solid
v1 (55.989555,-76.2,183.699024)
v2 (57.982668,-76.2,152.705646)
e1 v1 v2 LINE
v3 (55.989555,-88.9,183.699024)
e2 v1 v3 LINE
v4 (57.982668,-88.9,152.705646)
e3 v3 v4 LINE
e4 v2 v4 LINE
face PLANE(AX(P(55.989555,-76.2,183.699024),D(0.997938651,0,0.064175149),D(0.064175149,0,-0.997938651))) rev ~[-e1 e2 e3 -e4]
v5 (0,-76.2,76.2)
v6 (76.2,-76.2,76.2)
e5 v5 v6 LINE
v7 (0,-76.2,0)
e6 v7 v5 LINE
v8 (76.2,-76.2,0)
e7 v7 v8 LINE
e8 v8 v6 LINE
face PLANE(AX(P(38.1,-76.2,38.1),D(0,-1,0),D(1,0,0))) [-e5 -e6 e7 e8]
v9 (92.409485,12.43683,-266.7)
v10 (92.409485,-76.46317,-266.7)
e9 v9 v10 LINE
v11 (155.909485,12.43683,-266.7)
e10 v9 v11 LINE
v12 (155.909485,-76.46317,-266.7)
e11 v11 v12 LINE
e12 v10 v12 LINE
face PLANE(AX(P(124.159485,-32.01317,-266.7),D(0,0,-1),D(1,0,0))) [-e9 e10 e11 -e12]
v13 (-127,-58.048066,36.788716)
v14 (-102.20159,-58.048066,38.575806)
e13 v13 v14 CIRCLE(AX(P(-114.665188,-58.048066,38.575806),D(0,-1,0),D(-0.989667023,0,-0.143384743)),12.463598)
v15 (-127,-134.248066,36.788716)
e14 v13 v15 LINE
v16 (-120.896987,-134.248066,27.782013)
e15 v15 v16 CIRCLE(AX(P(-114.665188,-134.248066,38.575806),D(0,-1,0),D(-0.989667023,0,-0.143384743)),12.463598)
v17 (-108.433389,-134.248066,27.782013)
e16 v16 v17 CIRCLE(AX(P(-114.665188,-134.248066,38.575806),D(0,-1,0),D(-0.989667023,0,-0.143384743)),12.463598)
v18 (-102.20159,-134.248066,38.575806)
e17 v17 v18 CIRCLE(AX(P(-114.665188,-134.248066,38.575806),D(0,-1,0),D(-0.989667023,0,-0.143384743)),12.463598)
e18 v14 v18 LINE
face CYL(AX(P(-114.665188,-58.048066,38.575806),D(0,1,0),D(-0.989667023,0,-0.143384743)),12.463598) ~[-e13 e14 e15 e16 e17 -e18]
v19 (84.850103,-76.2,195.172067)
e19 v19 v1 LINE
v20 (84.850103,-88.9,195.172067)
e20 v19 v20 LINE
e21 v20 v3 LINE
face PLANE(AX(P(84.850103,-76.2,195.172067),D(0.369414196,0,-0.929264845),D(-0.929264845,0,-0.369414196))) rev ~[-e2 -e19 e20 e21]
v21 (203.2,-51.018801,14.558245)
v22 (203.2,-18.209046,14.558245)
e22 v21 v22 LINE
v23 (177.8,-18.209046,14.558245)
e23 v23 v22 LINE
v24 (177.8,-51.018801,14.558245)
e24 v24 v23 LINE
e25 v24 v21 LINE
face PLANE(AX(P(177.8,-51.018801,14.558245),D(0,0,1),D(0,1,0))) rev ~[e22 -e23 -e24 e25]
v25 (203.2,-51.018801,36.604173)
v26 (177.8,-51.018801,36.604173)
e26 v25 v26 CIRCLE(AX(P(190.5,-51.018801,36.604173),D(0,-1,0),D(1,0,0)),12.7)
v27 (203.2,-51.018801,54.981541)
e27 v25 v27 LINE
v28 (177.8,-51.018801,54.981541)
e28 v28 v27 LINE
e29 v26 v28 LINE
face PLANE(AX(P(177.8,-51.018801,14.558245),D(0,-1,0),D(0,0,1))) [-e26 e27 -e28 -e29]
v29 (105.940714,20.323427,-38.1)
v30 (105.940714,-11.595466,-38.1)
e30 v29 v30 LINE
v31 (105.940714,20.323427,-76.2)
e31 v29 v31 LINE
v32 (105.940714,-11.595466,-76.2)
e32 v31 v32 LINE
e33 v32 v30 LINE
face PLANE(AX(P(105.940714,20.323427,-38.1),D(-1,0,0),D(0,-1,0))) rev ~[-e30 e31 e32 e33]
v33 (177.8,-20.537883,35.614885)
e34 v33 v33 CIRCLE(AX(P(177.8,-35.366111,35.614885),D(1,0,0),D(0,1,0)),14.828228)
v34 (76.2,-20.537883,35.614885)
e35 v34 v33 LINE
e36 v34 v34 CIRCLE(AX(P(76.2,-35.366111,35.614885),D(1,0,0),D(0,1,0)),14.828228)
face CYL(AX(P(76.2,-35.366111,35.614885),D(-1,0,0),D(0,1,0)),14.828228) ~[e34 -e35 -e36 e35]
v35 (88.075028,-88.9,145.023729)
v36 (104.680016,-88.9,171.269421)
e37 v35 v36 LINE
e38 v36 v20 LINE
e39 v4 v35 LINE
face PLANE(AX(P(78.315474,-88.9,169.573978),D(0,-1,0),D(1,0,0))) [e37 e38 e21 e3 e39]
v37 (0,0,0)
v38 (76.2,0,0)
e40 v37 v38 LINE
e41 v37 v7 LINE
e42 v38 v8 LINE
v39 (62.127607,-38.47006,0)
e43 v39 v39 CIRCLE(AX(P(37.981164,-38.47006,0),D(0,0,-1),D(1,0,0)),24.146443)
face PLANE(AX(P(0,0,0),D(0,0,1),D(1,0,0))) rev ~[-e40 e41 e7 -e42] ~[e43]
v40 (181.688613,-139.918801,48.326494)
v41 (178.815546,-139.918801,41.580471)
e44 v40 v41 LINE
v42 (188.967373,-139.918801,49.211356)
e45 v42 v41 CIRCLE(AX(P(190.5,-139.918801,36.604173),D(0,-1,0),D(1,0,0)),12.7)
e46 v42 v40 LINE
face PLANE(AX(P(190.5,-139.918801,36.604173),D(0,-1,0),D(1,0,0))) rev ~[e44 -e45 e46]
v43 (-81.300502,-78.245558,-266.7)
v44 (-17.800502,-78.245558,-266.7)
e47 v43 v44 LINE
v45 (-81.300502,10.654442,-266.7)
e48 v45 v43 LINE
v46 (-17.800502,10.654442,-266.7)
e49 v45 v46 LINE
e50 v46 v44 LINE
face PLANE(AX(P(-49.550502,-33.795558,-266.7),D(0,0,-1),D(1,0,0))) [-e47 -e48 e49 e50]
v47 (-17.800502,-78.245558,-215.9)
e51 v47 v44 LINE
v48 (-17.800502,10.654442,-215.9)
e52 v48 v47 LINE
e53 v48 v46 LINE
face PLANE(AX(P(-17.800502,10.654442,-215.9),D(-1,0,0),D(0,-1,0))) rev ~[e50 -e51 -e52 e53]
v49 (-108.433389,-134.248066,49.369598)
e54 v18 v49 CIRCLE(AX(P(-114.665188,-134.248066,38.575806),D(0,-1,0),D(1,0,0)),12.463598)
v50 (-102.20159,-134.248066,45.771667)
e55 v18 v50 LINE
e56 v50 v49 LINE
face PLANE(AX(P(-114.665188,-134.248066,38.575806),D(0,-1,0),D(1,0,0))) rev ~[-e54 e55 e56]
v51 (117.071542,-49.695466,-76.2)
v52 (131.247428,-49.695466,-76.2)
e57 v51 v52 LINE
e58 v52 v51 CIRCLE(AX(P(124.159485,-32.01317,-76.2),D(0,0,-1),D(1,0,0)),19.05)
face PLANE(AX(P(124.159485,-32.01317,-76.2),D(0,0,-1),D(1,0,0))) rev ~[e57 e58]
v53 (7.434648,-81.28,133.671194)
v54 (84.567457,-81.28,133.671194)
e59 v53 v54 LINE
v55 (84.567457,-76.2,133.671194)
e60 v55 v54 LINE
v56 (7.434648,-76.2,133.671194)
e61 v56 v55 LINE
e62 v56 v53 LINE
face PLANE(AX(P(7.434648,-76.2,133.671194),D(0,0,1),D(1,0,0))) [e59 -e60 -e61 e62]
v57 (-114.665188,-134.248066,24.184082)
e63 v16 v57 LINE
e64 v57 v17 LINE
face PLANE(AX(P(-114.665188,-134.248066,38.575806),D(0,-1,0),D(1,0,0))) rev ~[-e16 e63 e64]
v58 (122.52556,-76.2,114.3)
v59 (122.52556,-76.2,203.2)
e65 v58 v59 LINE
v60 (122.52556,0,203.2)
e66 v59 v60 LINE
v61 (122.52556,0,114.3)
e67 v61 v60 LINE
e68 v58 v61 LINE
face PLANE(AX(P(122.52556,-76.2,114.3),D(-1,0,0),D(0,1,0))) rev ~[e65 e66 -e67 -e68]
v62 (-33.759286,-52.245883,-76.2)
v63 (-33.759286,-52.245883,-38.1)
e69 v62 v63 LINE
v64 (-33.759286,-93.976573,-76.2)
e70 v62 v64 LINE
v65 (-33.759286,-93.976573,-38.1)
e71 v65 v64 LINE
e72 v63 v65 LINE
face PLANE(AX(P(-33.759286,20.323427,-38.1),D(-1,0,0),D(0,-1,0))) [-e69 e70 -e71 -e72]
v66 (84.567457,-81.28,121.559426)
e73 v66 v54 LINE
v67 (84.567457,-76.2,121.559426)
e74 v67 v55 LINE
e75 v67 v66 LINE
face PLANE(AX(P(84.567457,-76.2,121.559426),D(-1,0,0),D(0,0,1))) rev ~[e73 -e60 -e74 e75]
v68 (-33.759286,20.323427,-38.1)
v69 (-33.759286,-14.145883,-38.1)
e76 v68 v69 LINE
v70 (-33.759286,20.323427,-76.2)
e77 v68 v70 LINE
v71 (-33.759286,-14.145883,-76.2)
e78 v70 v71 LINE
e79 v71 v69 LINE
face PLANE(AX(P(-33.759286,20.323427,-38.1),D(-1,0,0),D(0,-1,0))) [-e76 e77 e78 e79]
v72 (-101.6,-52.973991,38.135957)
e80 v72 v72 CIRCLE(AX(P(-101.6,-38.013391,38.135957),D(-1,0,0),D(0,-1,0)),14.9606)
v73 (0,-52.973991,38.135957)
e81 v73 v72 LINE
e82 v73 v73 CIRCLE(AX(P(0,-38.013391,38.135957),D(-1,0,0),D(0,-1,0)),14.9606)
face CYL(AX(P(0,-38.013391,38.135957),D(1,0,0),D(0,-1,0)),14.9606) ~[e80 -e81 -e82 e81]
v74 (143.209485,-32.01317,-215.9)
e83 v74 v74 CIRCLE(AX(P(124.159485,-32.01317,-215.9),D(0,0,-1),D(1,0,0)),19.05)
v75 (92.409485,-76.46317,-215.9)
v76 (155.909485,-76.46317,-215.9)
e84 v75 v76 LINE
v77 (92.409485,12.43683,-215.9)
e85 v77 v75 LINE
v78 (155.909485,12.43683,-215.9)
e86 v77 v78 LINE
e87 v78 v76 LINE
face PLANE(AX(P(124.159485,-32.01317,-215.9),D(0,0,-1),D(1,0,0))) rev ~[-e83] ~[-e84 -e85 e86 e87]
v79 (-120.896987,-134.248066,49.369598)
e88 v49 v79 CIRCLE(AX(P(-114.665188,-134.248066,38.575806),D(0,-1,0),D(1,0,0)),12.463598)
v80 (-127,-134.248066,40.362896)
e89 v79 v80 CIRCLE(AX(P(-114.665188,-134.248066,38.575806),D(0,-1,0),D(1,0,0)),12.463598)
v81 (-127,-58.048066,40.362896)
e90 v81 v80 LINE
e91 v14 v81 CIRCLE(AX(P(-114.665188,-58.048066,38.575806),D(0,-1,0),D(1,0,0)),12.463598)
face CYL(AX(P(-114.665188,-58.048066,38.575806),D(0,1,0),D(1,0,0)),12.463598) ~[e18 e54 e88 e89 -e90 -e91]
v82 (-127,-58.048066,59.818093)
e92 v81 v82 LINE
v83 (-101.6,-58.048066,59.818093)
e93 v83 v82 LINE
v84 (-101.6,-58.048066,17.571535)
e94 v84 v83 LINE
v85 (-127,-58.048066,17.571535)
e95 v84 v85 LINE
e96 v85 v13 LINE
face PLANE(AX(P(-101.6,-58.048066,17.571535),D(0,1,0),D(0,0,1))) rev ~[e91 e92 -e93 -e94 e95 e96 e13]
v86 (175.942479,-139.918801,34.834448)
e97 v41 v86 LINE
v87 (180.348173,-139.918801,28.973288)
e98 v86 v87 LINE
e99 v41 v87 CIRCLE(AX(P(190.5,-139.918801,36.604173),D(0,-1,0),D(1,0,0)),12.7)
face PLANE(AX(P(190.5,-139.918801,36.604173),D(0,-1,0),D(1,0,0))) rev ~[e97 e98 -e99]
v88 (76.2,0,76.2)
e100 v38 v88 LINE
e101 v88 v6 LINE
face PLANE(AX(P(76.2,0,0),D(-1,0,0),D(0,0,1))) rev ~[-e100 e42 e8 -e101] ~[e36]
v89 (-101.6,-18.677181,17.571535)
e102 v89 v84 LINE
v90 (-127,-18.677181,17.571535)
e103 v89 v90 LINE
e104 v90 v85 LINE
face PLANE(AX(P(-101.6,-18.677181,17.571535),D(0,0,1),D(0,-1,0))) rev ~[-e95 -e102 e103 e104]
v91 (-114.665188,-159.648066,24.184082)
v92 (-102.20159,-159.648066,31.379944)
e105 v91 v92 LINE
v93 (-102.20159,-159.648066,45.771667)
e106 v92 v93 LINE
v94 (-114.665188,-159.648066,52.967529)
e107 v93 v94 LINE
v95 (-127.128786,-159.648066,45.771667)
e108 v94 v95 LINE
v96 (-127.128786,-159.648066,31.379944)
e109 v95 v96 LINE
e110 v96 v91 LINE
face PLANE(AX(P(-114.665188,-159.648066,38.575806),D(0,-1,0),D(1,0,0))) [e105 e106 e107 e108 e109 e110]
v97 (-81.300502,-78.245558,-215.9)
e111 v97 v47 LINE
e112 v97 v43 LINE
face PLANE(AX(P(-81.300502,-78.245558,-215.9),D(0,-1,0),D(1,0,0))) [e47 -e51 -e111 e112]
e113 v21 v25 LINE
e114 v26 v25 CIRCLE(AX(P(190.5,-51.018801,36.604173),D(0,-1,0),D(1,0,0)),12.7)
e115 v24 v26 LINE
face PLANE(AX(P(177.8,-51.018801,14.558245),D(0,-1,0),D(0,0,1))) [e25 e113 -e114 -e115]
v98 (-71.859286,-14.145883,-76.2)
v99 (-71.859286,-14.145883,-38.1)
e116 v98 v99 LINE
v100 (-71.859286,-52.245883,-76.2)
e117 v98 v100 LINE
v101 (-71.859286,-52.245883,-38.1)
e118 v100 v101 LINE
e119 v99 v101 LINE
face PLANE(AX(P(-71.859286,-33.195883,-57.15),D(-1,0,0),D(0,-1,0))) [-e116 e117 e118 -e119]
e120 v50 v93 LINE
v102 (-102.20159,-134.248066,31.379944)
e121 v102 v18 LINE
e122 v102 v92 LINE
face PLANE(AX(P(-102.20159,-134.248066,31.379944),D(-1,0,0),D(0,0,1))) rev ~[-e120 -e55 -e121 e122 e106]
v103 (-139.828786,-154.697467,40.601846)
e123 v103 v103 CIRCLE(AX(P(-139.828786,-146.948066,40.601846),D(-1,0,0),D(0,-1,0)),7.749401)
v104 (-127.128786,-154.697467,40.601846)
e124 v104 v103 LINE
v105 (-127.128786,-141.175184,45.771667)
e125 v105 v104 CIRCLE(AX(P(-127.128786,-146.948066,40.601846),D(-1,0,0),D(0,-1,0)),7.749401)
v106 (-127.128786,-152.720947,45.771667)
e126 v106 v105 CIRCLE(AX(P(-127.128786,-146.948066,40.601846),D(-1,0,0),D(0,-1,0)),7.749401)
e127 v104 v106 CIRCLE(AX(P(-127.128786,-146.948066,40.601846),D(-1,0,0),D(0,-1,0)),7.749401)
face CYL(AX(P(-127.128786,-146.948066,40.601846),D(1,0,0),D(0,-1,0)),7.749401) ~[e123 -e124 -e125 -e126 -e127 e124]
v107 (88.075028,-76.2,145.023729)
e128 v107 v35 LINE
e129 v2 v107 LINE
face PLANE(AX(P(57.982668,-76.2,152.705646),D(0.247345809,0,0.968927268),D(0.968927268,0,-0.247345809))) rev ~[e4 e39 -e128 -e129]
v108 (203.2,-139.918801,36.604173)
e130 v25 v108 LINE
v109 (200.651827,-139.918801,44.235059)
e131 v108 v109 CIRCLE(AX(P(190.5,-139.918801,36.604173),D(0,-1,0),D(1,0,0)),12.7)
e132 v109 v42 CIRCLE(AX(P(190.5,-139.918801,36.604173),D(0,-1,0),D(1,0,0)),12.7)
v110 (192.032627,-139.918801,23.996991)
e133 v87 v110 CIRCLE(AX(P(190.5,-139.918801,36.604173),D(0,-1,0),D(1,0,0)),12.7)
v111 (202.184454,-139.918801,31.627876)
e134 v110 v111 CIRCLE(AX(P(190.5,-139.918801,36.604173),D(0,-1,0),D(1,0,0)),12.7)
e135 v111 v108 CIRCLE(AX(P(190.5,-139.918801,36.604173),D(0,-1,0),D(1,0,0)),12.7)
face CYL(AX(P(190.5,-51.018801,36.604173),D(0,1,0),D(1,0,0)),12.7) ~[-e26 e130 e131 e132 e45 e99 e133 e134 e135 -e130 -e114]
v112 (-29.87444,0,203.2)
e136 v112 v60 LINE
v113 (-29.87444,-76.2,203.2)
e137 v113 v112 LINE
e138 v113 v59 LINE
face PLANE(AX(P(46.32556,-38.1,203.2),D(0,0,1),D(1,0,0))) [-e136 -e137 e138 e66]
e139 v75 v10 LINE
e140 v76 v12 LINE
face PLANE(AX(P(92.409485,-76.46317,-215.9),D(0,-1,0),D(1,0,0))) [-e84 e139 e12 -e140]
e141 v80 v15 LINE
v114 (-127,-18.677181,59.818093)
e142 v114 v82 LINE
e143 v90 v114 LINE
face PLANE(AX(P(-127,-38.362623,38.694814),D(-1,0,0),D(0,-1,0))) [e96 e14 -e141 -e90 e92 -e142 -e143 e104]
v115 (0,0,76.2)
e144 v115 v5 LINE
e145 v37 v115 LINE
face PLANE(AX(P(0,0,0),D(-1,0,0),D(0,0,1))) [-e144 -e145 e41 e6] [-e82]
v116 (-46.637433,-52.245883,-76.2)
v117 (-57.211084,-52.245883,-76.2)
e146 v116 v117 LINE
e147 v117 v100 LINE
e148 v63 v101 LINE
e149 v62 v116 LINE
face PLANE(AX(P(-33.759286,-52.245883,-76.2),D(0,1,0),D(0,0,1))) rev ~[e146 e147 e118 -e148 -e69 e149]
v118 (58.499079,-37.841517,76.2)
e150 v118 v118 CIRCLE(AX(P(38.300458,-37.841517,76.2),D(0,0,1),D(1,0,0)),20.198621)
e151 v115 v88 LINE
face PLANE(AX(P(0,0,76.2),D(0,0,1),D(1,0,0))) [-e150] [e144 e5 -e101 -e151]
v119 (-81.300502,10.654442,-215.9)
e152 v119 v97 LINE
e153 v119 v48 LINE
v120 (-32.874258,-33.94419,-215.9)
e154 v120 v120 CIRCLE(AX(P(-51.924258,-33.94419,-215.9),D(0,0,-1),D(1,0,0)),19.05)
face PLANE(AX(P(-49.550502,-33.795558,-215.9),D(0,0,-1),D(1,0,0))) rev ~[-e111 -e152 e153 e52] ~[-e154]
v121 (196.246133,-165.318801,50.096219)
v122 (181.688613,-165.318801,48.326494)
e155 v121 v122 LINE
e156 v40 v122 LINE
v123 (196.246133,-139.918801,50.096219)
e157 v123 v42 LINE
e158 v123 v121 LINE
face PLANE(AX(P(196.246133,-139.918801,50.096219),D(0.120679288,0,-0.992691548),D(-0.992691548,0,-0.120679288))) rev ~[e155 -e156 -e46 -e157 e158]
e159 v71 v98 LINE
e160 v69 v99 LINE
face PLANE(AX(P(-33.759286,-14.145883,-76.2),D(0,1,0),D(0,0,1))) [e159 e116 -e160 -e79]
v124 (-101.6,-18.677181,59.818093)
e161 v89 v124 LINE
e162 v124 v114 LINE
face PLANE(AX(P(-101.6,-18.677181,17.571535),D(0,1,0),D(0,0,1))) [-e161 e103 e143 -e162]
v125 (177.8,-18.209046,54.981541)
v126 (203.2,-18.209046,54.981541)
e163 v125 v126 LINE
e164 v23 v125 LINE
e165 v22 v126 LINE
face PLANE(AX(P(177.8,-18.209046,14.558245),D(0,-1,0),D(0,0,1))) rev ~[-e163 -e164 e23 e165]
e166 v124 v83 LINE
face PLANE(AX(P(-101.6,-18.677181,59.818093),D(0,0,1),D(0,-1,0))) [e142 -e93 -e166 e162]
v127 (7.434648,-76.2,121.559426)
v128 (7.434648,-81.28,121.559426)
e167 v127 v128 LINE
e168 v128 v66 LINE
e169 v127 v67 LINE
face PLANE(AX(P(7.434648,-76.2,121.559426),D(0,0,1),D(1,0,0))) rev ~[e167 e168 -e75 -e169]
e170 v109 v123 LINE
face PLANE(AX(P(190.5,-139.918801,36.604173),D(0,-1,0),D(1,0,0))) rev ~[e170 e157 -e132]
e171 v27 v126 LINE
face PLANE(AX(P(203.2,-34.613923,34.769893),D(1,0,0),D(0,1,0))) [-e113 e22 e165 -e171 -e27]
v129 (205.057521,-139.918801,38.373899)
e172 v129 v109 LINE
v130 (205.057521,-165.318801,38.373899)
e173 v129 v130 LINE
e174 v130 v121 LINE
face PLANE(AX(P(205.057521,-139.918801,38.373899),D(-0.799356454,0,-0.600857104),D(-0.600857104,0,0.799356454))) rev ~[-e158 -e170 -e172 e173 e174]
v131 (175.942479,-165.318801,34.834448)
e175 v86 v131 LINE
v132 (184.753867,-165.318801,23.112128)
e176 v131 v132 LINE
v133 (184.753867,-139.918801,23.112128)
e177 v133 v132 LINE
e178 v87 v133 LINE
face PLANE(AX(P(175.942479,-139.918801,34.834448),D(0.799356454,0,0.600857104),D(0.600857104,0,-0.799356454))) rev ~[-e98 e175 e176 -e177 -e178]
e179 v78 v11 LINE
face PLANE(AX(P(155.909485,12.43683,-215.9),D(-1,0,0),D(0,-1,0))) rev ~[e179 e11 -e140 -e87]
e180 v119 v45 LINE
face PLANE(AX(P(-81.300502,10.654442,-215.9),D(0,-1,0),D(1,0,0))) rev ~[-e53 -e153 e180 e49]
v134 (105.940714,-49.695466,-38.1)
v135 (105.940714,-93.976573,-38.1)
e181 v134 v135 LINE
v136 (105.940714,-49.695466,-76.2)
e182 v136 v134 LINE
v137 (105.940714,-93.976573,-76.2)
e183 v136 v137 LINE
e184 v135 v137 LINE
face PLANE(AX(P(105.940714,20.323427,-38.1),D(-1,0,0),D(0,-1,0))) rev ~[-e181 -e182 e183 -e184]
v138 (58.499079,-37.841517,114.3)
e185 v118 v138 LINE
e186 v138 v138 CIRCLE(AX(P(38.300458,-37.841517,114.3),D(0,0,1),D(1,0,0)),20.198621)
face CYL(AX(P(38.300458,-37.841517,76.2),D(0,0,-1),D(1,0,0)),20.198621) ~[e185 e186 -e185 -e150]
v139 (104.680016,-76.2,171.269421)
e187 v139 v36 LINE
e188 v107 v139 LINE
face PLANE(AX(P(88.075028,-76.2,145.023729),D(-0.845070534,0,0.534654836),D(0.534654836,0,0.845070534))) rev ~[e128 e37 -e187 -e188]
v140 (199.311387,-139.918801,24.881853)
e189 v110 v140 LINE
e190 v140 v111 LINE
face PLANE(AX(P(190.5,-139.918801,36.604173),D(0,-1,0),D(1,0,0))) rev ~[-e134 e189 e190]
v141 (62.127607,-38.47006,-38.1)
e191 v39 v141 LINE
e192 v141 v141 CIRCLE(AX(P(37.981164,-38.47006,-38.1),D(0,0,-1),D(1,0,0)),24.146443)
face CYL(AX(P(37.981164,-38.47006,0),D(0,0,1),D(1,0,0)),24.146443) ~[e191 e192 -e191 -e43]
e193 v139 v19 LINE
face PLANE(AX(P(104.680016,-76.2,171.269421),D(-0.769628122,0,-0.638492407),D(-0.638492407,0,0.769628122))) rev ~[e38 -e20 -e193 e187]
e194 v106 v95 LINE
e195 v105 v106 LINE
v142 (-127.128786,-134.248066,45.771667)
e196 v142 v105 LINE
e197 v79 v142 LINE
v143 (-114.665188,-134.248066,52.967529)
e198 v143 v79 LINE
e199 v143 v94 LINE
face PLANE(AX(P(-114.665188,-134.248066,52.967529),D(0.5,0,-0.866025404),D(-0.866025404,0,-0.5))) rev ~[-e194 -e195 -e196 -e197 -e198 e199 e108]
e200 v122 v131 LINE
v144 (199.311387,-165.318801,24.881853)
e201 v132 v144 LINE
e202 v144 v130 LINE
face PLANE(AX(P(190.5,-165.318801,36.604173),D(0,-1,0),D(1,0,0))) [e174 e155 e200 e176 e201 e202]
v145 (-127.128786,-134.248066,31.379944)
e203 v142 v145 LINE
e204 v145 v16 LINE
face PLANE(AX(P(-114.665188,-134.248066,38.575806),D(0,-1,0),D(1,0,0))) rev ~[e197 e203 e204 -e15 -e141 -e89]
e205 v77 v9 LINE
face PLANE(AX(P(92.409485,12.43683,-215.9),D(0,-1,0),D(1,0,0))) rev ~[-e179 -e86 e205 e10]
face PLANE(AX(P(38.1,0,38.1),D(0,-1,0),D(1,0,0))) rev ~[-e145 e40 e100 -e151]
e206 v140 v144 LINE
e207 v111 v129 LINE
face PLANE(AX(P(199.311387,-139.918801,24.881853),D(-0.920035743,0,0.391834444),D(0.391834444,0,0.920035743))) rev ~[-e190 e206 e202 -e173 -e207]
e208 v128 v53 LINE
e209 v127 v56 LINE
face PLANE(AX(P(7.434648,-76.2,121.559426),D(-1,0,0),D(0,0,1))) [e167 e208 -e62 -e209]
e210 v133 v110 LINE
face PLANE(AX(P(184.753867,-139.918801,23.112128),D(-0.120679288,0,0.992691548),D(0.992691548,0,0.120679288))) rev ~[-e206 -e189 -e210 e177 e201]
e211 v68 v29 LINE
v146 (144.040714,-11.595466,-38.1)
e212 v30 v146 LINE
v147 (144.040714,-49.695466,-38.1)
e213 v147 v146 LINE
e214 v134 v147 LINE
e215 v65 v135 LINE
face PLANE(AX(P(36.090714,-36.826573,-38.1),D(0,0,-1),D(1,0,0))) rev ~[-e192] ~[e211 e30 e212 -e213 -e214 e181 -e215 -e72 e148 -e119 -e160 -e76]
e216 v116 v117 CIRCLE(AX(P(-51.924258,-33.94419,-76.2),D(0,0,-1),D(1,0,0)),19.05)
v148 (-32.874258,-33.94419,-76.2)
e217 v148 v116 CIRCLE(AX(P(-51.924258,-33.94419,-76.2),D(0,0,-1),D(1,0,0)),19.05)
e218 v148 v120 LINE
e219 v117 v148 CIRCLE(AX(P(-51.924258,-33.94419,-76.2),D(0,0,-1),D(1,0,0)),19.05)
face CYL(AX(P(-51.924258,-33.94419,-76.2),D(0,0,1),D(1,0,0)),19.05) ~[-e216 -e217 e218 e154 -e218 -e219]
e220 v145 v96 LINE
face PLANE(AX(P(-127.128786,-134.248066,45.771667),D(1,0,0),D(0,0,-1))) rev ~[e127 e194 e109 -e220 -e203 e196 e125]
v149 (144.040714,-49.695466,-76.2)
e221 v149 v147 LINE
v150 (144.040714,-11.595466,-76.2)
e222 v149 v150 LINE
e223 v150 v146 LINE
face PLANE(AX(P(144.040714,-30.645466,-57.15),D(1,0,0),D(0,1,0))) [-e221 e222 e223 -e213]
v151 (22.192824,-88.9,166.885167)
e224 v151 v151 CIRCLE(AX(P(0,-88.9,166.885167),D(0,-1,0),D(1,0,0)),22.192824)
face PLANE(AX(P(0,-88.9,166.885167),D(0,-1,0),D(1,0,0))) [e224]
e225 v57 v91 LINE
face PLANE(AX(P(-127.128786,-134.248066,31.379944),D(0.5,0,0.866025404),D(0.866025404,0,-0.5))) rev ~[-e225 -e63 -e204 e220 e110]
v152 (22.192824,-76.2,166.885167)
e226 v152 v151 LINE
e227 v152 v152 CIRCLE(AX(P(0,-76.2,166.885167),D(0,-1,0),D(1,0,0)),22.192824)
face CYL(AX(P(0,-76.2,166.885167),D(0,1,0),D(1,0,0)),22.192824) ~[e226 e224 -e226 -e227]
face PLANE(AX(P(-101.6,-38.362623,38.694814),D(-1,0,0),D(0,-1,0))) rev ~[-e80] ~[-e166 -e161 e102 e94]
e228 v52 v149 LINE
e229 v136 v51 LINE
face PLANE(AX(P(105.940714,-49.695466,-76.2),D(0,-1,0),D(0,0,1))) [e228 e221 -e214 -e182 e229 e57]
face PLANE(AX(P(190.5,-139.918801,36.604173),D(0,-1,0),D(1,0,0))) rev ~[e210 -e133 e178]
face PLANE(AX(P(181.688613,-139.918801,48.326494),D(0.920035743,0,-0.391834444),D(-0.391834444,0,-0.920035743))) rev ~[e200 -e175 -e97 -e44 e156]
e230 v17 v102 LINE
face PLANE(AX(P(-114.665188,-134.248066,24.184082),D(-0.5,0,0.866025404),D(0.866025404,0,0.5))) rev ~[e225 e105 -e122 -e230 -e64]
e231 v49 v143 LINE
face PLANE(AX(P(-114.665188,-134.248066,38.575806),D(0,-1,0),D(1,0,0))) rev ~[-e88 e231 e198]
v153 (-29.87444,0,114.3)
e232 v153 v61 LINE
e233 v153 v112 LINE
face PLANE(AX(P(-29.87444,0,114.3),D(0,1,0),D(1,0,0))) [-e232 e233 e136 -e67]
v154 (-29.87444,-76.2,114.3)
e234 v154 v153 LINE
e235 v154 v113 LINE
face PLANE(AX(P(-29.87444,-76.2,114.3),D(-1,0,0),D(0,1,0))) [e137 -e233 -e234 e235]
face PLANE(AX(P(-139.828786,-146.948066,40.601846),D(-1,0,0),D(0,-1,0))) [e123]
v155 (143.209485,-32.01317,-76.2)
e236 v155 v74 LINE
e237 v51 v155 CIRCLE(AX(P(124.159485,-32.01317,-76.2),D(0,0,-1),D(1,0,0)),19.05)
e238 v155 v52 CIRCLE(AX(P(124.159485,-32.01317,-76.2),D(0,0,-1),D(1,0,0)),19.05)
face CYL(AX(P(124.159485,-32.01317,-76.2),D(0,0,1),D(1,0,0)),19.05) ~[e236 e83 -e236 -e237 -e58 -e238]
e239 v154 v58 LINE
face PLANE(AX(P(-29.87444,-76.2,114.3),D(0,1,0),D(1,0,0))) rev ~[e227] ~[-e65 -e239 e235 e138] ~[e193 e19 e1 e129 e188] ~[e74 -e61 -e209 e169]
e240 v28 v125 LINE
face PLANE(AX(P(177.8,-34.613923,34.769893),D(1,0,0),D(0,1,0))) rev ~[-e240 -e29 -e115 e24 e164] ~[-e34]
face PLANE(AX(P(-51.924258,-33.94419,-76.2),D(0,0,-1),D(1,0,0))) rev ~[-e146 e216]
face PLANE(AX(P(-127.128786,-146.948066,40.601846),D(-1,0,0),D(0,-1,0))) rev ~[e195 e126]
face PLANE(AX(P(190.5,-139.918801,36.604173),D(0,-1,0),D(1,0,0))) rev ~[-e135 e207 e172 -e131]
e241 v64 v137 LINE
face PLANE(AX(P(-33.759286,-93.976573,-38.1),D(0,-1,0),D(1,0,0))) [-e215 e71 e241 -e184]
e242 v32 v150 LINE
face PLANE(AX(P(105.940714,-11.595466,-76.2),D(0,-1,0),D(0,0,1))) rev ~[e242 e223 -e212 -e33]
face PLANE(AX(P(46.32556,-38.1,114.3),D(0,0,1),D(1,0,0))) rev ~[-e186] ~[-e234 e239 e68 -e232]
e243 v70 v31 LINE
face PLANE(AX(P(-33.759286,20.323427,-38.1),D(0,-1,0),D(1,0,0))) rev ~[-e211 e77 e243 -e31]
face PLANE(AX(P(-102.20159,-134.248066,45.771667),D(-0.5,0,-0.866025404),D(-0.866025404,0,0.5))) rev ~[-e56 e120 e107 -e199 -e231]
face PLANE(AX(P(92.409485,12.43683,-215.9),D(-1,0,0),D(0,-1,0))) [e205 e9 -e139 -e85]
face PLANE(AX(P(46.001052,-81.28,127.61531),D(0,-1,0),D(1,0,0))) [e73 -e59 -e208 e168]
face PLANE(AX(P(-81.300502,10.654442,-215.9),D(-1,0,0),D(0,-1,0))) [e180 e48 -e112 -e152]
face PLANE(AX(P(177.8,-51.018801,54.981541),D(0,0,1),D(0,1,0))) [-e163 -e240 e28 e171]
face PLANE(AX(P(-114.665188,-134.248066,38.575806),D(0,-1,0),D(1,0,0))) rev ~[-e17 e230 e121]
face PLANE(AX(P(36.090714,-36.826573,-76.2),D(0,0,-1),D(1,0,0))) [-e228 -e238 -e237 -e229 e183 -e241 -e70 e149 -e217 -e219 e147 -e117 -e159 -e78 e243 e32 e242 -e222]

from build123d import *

# Parameters (mm, degrees)
F0_W      = 76.2
F0_H      = 76.2
F1_DEPTH  = 76.2
F3_R      = 14.8282279676
F4_DEPTH  = 101.6
F5_W      = 32.8097548336
F5_H      = 40.4232954606
F6_DEPTH  = 25.4
F7_R      = 12.7
F8_DEPTH  = 88.9
F10_R     = 14.9606
F11_DEPTH = 101.6
F12_W     = 39.3708851188
F12_H     = 42.2465577722
F13_DEPTH = 25.4
F15_DEPTH = 76.2
F17_DEPTH = 25.4
F19_DEPTH = 25.4
F20_R     = 24.146442962
F21_DEPTH = 38.1
F22_W     = 139.7
F22_H     = 114.3
F23_DEPTH = 38.1
F24_W     = 38.1
F24_H     = 38.1
F25_DEPTH = 38.1
F26_W     = 38.1
F26_H     = 38.1
F27_DEPTH = 38.1
F28_R     = 19.05
F29_DEPTH = 139.7
F30_R     = 19.05
F31_DEPTH = 139.7
F32_W     = 63.5
F32_H     = 88.9
F33_DEPTH = 50.8
F34_W     = 63.5
F34_H     = 88.9
F35_DEPTH = 50.8
F36_R     = 20.1986205594
F37_DEPTH = 38.1
F38_W     = 152.4
F38_H     = 76.2
F39_DEPTH = 88.9
F40_R     = 22.1928241729
F41_DEPTH = 12.7
F43_DEPTH = 12.7
F44_R     = 7.7494009563
F45_DEPTH = 12.7
F46_W     = 77.1328099072
F46_H     = 12.1117681265
F47_DEPTH = 5.08


with BuildPart() as f1:
    # F0 (on Front) → F1 (new body)
    with BuildSketch(Plane.XZ):
        with Locations((38.1, 38.1)):
            Rectangle(F0_W, F0_H)
    extrude(amount=F1_DEPTH)

    # F3 (on face) → F4 (join)
    with BuildSketch(Plane.YZ.offset(76.2)):
        with Locations((-35.3661105037, 35.6148853898)):
            Circle(F3_R)
    extrude(amount=F4_DEPTH)

    # F5 (on face) → F6 (join)
    with BuildSketch(Plane.YZ.offset(177.8)):
        with Locations((-34.6139231697, 34.7698931582)):
            Rectangle(F5_W, F5_H)
    extrude(amount=F6_DEPTH)

    # F7 (on face) → F8 (join)
    with BuildSketch(Plane.XZ.offset(51.0188005865)):
        with Locations((190.5, 36.6041734815)):
            Circle(F7_R)
    extrude(amount=F8_DEPTH)

    # F10 (on face) → F11 (join)
    with BuildSketch(Plane(origin=(0, 0, 0), x_dir=(0, -1, 0), z_dir=(-1, 0, 0))):
        with Locations((38.0133911967, 38.1359569728)):
            Circle(F10_R)
    extrude(amount=F11_DEPTH)

    # F12 (on face) → F13 (join)
    with BuildSketch(Plane(origin=(-101.6, 0, 0), x_dir=(0, -1, 0), z_dir=(-1, 0, 0))):
        with Locations((38.3626231924, 38.6948138475)):
            Rectangle(F12_W, F12_H)
    extrude(amount=F13_DEPTH)

    # F14 (on face) → F15 (join)
    with BuildSketch(Plane.XZ.offset(58.0480657518)):
        with BuildLine():
            ThreePointArc((-127, 36.7887159047), (-113.7693257582, 26.1444457534), (-102.2015897118, 38.5758057237))
            ThreePointArc((-102.2015897118, 38.5758057237), (-113.7693257582, 51.0071656939), (-127, 40.3628955426))
            Line((-127, 40.3628955426), (-127, 36.7887159047))
        make_face()
    extrude(amount=F15_DEPTH)

    # F16 (on face) → F17 (join)
    with BuildSketch(Plane.XZ.offset(134.2480657518)):
        Polygon((-102.2015897118, 31.3799439574), (-102.2015897118, 45.77166749), (-114.6651878953, 52.9675292563), (-127.1287860788, 45.77166749), (-127.1287860788, 31.3799439574), (-114.6651878953, 24.1840821911), align=None)
    extrude(amount=F17_DEPTH)

    # F18 (on face) → F19 (join)
    with BuildSketch(Plane.XZ.offset(139.9188005865)):
        Polygon((199.3113872654, 24.8818534128), (205.0575206035, 38.3738986616), (196.246133338, 50.0962187302), (181.6886127346, 48.3264935501), (175.9424793965, 34.8344483013), (184.753866662, 23.1121282327), align=None)
    extrude(amount=F19_DEPTH)

    # F20 (on face) → F21 (join)
    with BuildSketch(Plane(origin=(0, 0, 0), x_dir=(1, 0, 0), z_dir=(0, 0, -1))):
        with Locations((37.9811637104, 38.4700596333)):
            Circle(F20_R)
    extrude(amount=F21_DEPTH)

    # F22 (on face) → F23 (join)
    with BuildSketch(Plane(origin=(0, 0, -38.1), x_dir=(1, 0, 0), z_dir=(0, 0, -1))):
        with Locations((36.0907144785, 36.826572606)):
            Rectangle(F22_W, F22_H)
    extrude(amount=F23_DEPTH)

    # F24 (on face) → F25 (join)
    with BuildSketch(Plane.YZ.offset(105.9407144785)):
        with Locations((-30.6454657137, -57.15)):
            Rectangle(F24_W, F24_H)
    extrude(amount=F25_DEPTH)

    # F26 (on face) → F27 (join)
    with BuildSketch(Plane(origin=(-33.7592855215, 0, 0), x_dir=(0, -1, 0), z_dir=(-1, 0, 0))):
        with Locations((33.1958828002, -57.15)):
            Rectangle(F26_W, F26_H)
    extrude(amount=F27_DEPTH)

    # F28 (on face) → F29 (join)
    with BuildSketch(Plane(origin=(0, 0, -76.2), x_dir=(1, 0, 0), z_dir=(0, 0, -1))):
        with Locations((124.1594851017, 32.0131704211)):
            Circle(F28_R)
    extrude(amount=F29_DEPTH)

    # F30 (on face) → F31 (join)
    with BuildSketch(Plane(origin=(0, 0, -76.2), x_dir=(1, 0, 0), z_dir=(0, 0, -1))):
        with Locations((-51.9242584705, 33.9441895485)):
            Circle(F30_R)
    extrude(amount=F31_DEPTH)

    # F32 (on face) → F33 (join)
    with BuildSketch(Plane(origin=(0, 0, -215.9), x_dir=(1, 0, 0), z_dir=(0, 0, -1))):
        with Locations((-49.5505024791, 33.7955579877)):
            Rectangle(F32_W, F32_H)
    extrude(amount=F33_DEPTH)

    # F34 (on face) → F35 (join)
    with BuildSketch(Plane(origin=(0, 0, -215.9), x_dir=(1, 0, 0), z_dir=(0, 0, -1))):
        with Locations((124.1594851017, 32.0131704211)):
            Rectangle(F34_W, F34_H)
    extrude(amount=F35_DEPTH)

    # F36 (on face) → F37 (join)
    with BuildSketch(Plane.XY.offset(76.2)):
        with Locations((38.3004583418, -37.8415174782)):
            Circle(F36_R)
    extrude(amount=F37_DEPTH)

    # F38 (on face) → F39 (join)
    with BuildSketch(Plane.XY.offset(114.3)):
        with Locations((46.3255597174, -38.1)):
            Rectangle(F38_W, F38_H)
    extrude(amount=F39_DEPTH)

    # F40 (on face) → F41 (join)
    with BuildSketch(Plane.XZ.offset(76.2)):
        with Locations((0, 166.8851673603)):
            Circle(F40_R)
    extrude(amount=F41_DEPTH)

    # F42 (on face) → F43 (join)
    with BuildSketch(Plane.XZ.offset(76.2)):
        Polygon((88.0750278551, 145.0237293252), (104.6800156515, 171.2694208614), (84.8501031118, 195.172067422), (55.9895553719, 183.6990238813), (57.9826684744, 152.7056464582), align=None)
    extrude(amount=F43_DEPTH)

    # F44 (on face) → F45 (join)
    with BuildSketch(Plane(origin=(-127.1287860788, 0, 0), x_dir=(0, -1, 0), z_dir=(-1, 0, 0))):
        with Locations((146.9480657518, 40.6018458307)):
            Circle(F44_R)
    extrude(amount=F45_DEPTH)

    # F46 (on face) → F47 (join)
    with BuildSketch(Plane.XZ.offset(76.2)):
        with Locations((46.0010524839, 127.6153102517)):
            Rectangle(F46_W, F46_H)
    extrude(amount=F47_DEPTH)


solid = f1.part
